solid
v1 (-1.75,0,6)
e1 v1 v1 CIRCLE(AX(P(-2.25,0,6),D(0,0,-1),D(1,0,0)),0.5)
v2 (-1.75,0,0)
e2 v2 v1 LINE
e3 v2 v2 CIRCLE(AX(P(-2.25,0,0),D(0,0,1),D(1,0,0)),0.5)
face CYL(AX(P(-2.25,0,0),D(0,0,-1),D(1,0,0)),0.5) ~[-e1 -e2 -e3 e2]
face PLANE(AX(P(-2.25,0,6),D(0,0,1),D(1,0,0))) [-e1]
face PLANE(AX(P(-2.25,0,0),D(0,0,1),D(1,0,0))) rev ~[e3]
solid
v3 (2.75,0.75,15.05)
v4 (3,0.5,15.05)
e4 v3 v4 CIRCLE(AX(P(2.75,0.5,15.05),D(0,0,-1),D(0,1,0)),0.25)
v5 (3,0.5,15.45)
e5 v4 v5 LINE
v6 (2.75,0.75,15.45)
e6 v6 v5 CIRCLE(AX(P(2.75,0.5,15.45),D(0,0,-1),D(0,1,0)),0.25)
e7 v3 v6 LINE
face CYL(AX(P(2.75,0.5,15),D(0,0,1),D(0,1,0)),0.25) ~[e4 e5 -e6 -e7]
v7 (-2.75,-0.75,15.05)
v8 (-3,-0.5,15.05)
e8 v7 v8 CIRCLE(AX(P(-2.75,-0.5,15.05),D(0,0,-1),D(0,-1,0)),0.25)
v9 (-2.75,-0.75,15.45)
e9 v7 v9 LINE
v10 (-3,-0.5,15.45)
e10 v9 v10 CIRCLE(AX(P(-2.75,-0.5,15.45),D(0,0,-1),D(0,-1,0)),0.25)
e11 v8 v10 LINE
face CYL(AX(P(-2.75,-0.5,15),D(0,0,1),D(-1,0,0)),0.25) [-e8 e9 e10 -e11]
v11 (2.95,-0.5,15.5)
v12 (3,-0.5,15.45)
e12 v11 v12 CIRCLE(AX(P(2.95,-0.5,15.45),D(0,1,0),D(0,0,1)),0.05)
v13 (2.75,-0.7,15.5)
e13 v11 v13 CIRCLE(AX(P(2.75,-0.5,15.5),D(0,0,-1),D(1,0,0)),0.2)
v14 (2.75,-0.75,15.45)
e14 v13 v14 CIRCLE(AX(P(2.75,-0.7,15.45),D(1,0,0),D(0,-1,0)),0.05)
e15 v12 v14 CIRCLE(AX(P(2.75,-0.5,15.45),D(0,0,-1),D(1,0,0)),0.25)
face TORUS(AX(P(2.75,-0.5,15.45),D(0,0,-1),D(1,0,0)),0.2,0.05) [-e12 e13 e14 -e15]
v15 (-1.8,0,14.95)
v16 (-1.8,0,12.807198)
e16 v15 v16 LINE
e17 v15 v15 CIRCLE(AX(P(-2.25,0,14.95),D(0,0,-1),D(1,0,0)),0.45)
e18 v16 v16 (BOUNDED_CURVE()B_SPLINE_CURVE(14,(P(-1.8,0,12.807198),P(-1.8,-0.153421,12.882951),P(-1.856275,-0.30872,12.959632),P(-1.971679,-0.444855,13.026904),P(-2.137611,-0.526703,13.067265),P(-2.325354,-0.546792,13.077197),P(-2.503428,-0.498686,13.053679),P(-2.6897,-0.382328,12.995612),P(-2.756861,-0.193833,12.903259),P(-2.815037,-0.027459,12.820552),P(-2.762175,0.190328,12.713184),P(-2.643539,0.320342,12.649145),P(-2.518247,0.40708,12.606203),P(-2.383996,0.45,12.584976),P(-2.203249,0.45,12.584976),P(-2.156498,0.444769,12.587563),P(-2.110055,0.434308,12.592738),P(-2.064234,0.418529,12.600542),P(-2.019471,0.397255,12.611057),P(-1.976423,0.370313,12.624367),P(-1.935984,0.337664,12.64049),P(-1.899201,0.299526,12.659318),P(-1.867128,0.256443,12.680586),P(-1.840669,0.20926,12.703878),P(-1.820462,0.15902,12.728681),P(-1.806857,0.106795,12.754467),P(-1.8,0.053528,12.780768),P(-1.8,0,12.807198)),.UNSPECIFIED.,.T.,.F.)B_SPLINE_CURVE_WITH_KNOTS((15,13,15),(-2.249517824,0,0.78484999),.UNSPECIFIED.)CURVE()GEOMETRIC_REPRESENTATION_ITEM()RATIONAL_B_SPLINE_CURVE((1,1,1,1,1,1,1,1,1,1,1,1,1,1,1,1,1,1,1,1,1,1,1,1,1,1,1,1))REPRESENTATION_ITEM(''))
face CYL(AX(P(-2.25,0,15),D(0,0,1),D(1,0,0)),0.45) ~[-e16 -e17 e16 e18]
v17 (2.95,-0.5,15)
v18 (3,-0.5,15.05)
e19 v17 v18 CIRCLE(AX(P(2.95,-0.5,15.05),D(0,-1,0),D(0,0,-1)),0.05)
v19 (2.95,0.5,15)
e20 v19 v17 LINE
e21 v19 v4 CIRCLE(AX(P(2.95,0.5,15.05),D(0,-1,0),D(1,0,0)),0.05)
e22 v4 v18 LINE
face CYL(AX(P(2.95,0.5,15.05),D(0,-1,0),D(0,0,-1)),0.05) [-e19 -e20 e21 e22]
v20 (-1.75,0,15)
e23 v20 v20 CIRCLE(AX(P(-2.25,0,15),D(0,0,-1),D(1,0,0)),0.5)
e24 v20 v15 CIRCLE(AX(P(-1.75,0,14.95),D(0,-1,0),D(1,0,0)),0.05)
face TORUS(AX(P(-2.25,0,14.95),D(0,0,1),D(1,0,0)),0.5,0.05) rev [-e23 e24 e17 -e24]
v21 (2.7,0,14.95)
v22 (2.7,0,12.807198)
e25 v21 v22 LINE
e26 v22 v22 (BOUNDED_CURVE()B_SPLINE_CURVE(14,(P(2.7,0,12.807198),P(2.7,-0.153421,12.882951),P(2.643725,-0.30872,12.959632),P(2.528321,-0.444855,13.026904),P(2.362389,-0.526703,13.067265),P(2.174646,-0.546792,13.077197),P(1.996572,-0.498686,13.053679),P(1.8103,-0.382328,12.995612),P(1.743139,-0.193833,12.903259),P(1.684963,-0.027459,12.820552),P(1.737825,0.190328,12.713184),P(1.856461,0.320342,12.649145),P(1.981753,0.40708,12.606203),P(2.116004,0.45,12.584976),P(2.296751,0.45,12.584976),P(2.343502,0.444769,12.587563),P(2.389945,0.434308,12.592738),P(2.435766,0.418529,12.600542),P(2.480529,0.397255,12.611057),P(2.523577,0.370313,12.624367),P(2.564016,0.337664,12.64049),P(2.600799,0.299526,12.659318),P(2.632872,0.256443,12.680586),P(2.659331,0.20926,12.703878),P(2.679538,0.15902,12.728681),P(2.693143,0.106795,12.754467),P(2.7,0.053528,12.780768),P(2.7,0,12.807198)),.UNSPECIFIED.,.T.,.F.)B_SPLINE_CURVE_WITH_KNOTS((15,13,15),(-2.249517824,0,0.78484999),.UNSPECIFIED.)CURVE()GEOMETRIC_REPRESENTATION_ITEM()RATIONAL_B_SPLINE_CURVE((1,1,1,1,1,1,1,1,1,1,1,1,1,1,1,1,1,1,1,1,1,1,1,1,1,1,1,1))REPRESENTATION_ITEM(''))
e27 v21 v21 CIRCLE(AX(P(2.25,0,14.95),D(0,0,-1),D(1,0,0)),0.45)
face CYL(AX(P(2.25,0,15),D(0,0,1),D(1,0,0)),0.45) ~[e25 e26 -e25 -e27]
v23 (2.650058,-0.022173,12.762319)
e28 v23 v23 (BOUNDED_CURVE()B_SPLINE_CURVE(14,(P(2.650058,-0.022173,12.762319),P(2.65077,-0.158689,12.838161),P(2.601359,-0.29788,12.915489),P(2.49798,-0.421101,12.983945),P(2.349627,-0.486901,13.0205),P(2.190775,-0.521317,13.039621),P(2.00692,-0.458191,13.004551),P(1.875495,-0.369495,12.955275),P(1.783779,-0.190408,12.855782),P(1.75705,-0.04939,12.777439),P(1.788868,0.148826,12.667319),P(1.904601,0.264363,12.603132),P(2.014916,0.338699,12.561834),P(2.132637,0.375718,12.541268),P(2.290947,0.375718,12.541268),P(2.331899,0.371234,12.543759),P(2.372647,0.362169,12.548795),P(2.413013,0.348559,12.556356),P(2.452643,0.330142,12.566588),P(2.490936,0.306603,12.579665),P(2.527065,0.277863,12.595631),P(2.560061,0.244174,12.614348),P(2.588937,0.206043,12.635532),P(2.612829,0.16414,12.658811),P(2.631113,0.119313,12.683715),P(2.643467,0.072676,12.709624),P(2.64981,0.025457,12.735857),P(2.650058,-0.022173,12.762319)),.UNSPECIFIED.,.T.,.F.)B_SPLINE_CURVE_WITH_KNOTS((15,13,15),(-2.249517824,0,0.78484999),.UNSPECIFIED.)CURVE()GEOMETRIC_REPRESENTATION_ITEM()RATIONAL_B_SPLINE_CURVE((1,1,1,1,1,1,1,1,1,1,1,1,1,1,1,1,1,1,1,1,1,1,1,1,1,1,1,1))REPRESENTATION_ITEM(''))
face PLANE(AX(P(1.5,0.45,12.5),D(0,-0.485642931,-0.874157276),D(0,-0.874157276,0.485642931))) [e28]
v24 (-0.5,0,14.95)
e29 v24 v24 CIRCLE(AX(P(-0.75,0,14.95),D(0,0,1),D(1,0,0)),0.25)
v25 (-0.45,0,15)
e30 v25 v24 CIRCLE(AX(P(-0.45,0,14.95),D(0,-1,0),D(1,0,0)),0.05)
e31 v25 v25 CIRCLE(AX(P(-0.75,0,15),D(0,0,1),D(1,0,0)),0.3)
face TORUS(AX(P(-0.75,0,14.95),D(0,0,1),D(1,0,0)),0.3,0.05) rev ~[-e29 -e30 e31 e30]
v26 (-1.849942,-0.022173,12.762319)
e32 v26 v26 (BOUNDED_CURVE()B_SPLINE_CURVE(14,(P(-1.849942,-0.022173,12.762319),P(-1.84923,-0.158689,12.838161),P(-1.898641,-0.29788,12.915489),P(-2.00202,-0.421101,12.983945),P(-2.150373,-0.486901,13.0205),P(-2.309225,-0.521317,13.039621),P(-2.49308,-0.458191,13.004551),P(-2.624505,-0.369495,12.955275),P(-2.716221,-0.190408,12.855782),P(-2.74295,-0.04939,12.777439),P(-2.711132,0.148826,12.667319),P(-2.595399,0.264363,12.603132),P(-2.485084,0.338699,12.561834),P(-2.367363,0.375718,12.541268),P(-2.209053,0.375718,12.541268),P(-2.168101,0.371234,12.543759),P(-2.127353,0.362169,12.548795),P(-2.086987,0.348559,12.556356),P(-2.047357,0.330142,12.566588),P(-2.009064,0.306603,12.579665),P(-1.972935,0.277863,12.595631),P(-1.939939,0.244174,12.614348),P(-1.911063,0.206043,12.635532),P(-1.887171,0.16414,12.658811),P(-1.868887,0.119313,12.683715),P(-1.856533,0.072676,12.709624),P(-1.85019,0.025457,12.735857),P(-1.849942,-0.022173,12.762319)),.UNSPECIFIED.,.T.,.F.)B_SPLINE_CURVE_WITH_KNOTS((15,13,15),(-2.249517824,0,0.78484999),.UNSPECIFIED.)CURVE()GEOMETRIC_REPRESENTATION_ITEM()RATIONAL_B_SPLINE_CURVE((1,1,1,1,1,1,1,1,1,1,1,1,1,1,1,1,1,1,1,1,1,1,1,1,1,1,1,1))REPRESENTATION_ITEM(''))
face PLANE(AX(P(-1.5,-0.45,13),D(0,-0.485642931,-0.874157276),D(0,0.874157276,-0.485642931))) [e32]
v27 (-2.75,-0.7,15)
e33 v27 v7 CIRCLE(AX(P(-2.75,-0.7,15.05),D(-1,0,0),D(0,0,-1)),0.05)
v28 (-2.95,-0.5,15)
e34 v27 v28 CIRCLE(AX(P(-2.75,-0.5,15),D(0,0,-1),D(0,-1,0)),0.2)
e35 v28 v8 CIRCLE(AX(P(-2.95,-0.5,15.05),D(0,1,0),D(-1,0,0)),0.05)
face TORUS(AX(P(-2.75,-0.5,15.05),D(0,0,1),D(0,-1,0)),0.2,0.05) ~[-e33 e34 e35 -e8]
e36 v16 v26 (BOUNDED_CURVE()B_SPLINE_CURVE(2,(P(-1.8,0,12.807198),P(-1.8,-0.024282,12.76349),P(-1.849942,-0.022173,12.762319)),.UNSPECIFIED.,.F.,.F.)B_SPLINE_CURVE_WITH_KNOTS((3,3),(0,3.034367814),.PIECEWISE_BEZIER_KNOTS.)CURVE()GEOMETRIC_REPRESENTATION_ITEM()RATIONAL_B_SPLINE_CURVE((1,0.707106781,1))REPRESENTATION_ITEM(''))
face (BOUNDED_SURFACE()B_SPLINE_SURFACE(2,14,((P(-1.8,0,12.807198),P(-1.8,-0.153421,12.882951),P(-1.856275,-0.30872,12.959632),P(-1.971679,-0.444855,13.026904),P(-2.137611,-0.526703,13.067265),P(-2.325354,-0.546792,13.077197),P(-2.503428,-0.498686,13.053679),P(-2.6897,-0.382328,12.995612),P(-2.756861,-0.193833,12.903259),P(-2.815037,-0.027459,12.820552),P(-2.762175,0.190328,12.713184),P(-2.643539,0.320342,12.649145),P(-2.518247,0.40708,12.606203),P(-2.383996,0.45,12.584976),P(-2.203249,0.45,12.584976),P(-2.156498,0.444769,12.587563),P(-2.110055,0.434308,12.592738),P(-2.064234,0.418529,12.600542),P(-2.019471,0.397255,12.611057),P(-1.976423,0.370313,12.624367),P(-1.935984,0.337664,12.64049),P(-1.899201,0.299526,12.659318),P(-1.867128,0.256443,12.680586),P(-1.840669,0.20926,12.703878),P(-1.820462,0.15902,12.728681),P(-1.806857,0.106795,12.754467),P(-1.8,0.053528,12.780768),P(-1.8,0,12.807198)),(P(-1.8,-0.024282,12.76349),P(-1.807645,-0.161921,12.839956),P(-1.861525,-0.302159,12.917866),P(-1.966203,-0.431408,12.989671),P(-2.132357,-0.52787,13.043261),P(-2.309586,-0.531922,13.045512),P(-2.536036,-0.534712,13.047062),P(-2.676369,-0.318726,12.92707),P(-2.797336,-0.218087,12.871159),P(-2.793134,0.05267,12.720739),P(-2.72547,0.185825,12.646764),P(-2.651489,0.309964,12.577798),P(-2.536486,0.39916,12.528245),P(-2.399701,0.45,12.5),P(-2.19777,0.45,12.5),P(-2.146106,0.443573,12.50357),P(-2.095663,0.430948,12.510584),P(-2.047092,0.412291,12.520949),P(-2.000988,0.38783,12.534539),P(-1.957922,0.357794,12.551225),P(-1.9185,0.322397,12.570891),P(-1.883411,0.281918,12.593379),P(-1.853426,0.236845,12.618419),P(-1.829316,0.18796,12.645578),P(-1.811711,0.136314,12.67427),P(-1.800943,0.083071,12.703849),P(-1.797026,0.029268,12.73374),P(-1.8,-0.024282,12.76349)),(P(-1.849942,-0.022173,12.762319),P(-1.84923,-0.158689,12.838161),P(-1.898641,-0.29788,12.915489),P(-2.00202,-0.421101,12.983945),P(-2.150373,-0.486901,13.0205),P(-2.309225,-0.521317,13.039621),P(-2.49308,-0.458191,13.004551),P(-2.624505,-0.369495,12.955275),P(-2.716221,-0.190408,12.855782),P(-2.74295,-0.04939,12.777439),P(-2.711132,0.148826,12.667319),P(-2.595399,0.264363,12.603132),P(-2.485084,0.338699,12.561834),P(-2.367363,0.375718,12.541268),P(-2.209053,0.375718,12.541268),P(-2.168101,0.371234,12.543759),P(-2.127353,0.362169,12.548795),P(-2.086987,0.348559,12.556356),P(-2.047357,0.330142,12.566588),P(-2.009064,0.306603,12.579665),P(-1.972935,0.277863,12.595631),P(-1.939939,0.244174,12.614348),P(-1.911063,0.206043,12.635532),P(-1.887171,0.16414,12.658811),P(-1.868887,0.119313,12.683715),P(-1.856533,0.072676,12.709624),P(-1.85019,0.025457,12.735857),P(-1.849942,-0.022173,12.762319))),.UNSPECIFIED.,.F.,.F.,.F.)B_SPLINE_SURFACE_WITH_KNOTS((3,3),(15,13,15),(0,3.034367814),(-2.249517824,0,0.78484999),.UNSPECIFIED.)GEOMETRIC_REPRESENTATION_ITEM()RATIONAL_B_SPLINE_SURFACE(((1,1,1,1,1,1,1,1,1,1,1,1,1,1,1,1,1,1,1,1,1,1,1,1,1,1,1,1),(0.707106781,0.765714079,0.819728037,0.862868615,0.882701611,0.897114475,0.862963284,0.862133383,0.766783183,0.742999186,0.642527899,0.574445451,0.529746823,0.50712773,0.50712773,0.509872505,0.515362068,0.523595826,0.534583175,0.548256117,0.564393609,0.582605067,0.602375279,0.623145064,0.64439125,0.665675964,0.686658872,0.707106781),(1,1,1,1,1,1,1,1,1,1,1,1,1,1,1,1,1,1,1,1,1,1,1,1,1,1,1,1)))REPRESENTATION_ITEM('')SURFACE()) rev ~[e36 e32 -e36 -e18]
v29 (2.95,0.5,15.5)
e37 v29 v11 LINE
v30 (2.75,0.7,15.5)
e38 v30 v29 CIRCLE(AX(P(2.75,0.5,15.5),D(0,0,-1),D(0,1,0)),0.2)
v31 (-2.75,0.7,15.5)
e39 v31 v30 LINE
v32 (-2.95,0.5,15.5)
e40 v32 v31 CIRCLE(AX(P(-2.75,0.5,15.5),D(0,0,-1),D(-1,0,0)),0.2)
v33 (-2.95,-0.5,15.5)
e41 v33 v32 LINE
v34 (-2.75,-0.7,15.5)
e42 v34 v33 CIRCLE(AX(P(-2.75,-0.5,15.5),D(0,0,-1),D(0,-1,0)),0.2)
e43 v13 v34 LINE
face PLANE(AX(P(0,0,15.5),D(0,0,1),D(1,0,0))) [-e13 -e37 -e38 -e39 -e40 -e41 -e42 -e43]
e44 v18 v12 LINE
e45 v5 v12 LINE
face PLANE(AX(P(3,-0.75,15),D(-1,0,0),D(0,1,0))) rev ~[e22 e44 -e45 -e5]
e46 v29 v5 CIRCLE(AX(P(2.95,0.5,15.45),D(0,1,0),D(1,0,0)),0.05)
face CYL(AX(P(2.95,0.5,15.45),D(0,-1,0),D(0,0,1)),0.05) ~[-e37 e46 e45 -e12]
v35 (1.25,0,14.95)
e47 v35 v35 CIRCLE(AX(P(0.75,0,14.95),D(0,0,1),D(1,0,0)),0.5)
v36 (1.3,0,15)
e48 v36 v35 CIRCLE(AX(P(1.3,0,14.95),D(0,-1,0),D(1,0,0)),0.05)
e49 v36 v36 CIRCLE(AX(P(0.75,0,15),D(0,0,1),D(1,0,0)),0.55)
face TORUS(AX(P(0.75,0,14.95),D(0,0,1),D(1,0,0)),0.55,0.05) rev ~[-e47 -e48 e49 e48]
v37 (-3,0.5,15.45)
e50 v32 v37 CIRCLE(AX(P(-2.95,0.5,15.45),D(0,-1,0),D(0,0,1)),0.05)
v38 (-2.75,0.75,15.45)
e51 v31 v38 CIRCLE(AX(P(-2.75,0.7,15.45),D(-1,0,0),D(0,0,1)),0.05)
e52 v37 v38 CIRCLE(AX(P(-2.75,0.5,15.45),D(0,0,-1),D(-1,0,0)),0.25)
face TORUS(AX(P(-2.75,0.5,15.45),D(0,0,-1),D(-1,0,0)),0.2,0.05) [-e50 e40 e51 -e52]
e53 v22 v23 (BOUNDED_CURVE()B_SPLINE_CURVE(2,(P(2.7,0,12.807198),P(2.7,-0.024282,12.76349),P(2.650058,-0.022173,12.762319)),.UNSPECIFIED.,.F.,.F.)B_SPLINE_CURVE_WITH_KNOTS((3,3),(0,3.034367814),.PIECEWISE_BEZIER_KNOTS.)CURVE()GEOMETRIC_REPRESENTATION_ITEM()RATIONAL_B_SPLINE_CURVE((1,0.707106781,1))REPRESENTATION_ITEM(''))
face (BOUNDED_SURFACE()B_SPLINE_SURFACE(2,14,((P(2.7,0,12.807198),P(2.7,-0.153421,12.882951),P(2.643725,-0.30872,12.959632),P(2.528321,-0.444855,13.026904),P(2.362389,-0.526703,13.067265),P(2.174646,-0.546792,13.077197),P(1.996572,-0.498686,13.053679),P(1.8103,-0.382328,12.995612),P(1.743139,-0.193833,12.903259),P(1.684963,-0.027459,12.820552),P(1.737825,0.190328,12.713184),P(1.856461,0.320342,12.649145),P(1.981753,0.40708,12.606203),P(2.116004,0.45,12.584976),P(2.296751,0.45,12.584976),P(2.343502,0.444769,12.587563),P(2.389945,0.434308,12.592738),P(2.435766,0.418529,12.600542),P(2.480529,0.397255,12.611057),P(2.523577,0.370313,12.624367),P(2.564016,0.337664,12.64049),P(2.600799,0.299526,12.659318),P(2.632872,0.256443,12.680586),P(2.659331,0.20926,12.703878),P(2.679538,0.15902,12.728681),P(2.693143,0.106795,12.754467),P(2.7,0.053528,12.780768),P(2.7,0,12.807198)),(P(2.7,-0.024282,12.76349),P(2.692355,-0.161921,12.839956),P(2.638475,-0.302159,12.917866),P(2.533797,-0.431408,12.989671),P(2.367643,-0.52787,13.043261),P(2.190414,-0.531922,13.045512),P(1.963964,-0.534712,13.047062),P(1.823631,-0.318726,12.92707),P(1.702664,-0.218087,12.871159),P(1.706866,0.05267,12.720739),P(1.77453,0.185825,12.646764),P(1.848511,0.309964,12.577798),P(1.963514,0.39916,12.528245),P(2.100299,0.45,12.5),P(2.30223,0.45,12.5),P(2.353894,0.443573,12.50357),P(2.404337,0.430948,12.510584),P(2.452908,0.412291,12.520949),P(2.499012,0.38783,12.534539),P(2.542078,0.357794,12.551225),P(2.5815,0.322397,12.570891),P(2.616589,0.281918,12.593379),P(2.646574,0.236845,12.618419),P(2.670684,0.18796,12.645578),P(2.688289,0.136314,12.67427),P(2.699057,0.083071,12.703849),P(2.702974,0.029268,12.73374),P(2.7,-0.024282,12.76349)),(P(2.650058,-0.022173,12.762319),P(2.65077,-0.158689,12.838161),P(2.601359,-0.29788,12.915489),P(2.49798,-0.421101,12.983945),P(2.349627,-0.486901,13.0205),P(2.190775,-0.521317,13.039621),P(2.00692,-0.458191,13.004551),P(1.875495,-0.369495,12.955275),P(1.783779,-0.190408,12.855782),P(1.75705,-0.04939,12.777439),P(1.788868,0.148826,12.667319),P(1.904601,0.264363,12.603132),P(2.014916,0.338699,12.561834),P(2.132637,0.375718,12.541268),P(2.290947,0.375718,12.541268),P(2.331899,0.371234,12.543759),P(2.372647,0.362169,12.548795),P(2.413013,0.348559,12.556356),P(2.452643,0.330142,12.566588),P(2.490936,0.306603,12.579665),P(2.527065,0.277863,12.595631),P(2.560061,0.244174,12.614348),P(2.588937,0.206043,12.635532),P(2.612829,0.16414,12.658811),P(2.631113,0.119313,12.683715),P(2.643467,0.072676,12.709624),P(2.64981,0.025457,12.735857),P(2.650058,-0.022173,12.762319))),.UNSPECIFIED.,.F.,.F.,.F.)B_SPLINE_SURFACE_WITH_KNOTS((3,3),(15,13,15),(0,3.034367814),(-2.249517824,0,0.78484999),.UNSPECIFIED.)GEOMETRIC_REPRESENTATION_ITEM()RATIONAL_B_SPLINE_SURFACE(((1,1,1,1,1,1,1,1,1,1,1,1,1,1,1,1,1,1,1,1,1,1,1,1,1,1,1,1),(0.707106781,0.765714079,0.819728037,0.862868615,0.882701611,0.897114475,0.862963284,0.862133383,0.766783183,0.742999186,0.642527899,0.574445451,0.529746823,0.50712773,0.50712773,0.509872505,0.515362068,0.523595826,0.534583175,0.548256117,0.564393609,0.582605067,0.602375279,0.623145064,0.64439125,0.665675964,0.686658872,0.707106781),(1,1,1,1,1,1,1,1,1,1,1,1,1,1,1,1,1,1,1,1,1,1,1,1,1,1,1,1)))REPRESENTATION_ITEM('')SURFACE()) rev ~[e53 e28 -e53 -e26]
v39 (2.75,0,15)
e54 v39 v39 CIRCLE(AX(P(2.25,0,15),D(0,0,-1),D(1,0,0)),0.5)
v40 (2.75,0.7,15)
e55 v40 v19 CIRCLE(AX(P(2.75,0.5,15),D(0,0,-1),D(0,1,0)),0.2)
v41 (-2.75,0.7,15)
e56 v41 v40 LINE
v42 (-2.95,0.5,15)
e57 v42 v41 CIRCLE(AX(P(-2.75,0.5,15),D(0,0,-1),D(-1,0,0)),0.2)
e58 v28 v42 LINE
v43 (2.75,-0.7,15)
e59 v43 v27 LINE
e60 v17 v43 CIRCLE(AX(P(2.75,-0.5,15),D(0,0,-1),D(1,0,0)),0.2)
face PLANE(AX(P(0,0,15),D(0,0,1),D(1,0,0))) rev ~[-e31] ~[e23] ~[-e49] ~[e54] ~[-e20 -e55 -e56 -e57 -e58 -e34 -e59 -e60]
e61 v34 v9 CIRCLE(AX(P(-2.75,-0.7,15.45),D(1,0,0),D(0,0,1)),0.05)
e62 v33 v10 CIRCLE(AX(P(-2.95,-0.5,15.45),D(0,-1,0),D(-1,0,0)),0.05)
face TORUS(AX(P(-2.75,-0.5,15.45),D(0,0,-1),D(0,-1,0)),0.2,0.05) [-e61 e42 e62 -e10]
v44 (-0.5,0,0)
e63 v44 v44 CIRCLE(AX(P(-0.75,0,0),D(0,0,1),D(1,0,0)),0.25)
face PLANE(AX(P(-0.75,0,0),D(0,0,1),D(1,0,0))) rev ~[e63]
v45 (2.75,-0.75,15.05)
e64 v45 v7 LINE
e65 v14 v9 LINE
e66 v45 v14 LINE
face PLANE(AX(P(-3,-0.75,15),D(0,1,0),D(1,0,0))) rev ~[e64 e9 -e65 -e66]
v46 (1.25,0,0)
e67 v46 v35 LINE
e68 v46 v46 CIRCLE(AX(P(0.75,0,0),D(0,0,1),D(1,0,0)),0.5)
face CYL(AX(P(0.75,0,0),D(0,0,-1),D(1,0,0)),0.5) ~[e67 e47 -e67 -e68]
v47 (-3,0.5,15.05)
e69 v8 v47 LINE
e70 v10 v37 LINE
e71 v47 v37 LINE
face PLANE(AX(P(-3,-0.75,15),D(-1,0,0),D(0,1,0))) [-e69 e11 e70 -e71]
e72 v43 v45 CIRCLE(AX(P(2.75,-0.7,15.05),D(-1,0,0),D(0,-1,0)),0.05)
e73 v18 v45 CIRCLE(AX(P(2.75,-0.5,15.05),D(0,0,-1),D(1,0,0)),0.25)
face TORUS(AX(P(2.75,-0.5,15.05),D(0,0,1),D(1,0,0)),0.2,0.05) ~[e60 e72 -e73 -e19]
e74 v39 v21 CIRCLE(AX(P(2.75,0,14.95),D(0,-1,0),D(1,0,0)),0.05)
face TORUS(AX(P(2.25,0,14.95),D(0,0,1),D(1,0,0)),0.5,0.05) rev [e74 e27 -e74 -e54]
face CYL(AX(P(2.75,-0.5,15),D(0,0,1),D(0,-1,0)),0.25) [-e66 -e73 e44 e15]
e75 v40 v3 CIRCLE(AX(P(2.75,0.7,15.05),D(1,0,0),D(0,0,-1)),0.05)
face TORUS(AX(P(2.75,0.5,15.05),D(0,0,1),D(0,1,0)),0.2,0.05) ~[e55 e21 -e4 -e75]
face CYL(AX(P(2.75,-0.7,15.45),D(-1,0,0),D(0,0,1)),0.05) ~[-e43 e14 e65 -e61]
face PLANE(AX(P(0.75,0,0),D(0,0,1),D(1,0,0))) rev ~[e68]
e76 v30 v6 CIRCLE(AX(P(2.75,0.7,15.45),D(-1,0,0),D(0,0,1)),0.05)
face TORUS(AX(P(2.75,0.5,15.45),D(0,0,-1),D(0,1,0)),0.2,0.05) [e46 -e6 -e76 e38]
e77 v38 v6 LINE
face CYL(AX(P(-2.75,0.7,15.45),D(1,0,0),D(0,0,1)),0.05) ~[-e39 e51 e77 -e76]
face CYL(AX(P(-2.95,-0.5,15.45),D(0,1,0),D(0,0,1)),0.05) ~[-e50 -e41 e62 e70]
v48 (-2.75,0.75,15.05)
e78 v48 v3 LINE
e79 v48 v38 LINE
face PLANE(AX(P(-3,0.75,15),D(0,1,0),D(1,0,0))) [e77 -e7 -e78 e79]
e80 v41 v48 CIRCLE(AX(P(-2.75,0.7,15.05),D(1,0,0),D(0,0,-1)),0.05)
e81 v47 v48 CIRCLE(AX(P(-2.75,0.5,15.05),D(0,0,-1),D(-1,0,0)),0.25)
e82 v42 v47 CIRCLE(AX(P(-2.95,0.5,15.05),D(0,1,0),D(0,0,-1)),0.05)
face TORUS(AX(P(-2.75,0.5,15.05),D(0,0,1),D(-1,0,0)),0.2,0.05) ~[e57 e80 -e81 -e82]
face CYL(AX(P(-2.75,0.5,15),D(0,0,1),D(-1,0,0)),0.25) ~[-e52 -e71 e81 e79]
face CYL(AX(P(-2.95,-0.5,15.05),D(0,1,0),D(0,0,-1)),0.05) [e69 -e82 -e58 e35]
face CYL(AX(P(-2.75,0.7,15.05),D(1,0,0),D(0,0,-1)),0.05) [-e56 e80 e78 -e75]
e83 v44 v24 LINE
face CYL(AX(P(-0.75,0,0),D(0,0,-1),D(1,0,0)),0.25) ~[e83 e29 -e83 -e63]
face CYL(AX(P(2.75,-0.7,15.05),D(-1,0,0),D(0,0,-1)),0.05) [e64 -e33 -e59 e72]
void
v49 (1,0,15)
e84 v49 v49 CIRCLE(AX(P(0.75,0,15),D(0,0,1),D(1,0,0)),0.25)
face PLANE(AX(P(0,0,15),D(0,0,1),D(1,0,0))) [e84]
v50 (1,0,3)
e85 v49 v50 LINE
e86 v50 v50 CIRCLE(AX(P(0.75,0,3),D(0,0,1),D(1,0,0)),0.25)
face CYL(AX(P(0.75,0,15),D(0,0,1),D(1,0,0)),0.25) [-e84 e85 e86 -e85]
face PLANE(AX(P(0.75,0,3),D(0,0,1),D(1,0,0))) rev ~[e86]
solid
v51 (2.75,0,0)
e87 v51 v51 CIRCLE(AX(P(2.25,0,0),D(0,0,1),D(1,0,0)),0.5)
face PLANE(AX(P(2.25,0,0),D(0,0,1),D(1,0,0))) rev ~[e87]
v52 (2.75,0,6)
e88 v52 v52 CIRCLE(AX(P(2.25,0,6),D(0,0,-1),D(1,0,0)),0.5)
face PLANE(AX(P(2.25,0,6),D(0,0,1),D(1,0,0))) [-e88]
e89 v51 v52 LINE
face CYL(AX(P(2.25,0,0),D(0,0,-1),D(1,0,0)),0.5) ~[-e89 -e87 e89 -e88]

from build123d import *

# Parameters (mm, degrees)
SKETCH1_R             = 0.25
BOSS_EXTRUDE1_DEPTH   = 15
SKETCH1_R_2           = 0.5
BOSS_EXTRUDE1_2_DEPTH = 15
BOSS_EXTRUDE1_3_DEPTH = 15
BOSS_EXTRUDE1_4_DEPTH = 15
SKETCH2_R             = 0.25
CUT_EXTRUDE1_DEPTH    = 12
SKETCH3_R             = 0.797194258
SKETCH3_R_2           = 0.805322926
CUT_EXTRUDE2_DEPTH    = 9
SKETCH4_W             = 6
SKETCH4_H             = 1.5
BOSS_EXTRUDE2_DEPTH   = 0.5
SKETCH5_R             = 0.45
BOSS_EXTRUDE3_DEPTH   = 2.5
CUT_EXTRUDE3_START    = -1.5
CUT_EXTRUDE3_DEPTH    = 2.5
CUT_EXTRUDE5_START    = 1.5
CUT_EXTRUDE5_DEPTH    = 2.5
FILLET1_R             = 0.25
FILLET2_R             = 0.05


with BuildPart() as part:
    # Sketch1 → Boss-Extrude1 (new body)
    with BuildSketch(Plane.XY):
        with Locations((-0.75, 0)):
            Circle(SKETCH1_R)
    extrude(amount=BOSS_EXTRUDE1_DEPTH)



with BuildPart() as body_2:
    # Sketch1 → Boss-Extrude1 2 (new body)
    with BuildSketch(Plane.XY):
        with Locations((0.75, 0)):
            Circle(SKETCH1_R_2)
    extrude(amount=BOSS_EXTRUDE1_2_DEPTH)

    # Sketch2 → Cut-Extrude1 (cut)
    with BuildSketch(Plane.XY.offset(15)):
        with Locations((0.75, 0)):
            Circle(SKETCH2_R)
    extrude(amount=-CUT_EXTRUDE1_DEPTH, mode=Mode.SUBTRACT)


with BuildPart() as body_3:
    # Sketch1 → Boss-Extrude1 3 (new body)
    with BuildSketch(Plane.XY):
        with Locations((2.25, 0)):
            Circle(SKETCH1_R_2)
    extrude(amount=BOSS_EXTRUDE1_3_DEPTH)


with BuildPart() as body_4:
    # Sketch1 → Boss-Extrude1 4 (new body)
    with BuildSketch(Plane.XY):
        with Locations((-2.25, 0)):
            Circle(SKETCH1_R_2)
    extrude(amount=BOSS_EXTRUDE1_4_DEPTH)


with BuildPart() as cut_extrude2_tool:
    # Sketch3 → Cut-Extrude2 (new body)
    with BuildSketch(Plane.XY.offset(15)):
        with Locations((-2.25, 0)):
            Circle(SKETCH3_R)
        with Locations((2.25, 0)):
            Circle(SKETCH3_R_2)
    extrude(amount=-CUT_EXTRUDE2_DEPTH)


with BuildPart() as body_3_1:
    add(body_3.part)

    # Cut-Extrude2: cut by cut_extrude2_tool
    add(cut_extrude2_tool.part, mode=Mode.SUBTRACT)


with BuildPart() as body_4_1:
    add(body_4.part)

    # Cut-Extrude2: cut by cut_extrude2_tool
    add(cut_extrude2_tool.part, mode=Mode.SUBTRACT)


with BuildPart() as part_1:
    add(part.part)

    add(body_2.part)  # Boss-Extrude2 merges body 2
    # Sketch4 → Boss-Extrude2 (add)
    with BuildSketch(Plane.XY.offset(15)):
        Rectangle(SKETCH4_W, SKETCH4_H)
    extrude(amount=BOSS_EXTRUDE2_DEPTH)

    # Sketch5 → Boss-Extrude3 (add)
    with BuildSketch(Plane(origin=(0, 0, 15), x_dir=(-1, 0, 0), z_dir=(0, 0, -1))):
        with Locations((2.25, 0)):
            Circle(SKETCH5_R)
        with Locations((-2.25, 0)):
            Circle(SKETCH5_R)
    extrude(amount=BOSS_EXTRUDE3_DEPTH)

    # Sketch6 → Cut-Extrude3 (cut)
    with BuildSketch(Plane(origin=(0, 0, 0), x_dir=(0, 0, -1), z_dir=(1, 0, 0)).offset(CUT_EXTRUDE3_START)):
        Polygon((-12.5, 0.45), (-12.5, -0.45), (-13, -0.45), align=None)
    extrude(amount=-CUT_EXTRUDE3_DEPTH, mode=Mode.SUBTRACT)

    # Sketch7 → Cut-Extrude5 (cut)
    with BuildSketch(Plane(origin=(0, 0, 0), x_dir=(0, 0, -1), z_dir=(1, 0, 0)).offset(CUT_EXTRUDE5_START)):
        Polygon((-12.5, 0.45), (-13, -0.45), (-12.5, -0.45), align=None)
    extrude(amount=CUT_EXTRUDE5_DEPTH, mode=Mode.SUBTRACT)

    # Fillet1
    fillet1_edges = [part_1.edges().sort_by_distance(p)[0] for p in [
        (-3, -0.75, 15.25),
        (-3, 0.75, 15.25),
        (3, -0.75, 15.25),
        (3, 0.75, 15.25),
    ]]
    fillet(fillet1_edges, radius=FILLET1_R)

    # Fillet2
    fillet2_edges = [part_1.edges().sort_by_distance(p)[0] for p in [
        (-2.926776695, 0.676776695, 15.5),
        (0, 0.75, 15.5),
        (2.926776695, 0.676776695, 15.5),
        (3, 0, 15.5),
        (2.926776695, -0.676776695, 15.5),
        (0, -0.75, 15.5),
        (-2.926776695, -0.676776695, 15.5),
        (-3, 0, 15.5),
        (2.7, 0, 15),
        (0.25, 0, 15),
        (2.926776695, -0.676776695, 15),
        (3, 0, 15),
        (2.926776695, 0.676776695, 15),
        (0, 0.75, 15),
        (-2.926776695, 0.676776695, 15),
        (-3, 0, 15),
        (-2.926776695, -0.676776695, 15),
        (0, -0.75, 15),
        (-1, 0, 15),
        (-1.8, 0, 15),
        (-2.578645848, -0.307395359, 12.920775199),
        (1.921354152, -0.307395359, 12.920775199),
    ]]
    fillet(fillet2_edges, radius=FILLET2_R)


solid = Compound([body_3_1.part, body_4_1.part, part_1.part])
